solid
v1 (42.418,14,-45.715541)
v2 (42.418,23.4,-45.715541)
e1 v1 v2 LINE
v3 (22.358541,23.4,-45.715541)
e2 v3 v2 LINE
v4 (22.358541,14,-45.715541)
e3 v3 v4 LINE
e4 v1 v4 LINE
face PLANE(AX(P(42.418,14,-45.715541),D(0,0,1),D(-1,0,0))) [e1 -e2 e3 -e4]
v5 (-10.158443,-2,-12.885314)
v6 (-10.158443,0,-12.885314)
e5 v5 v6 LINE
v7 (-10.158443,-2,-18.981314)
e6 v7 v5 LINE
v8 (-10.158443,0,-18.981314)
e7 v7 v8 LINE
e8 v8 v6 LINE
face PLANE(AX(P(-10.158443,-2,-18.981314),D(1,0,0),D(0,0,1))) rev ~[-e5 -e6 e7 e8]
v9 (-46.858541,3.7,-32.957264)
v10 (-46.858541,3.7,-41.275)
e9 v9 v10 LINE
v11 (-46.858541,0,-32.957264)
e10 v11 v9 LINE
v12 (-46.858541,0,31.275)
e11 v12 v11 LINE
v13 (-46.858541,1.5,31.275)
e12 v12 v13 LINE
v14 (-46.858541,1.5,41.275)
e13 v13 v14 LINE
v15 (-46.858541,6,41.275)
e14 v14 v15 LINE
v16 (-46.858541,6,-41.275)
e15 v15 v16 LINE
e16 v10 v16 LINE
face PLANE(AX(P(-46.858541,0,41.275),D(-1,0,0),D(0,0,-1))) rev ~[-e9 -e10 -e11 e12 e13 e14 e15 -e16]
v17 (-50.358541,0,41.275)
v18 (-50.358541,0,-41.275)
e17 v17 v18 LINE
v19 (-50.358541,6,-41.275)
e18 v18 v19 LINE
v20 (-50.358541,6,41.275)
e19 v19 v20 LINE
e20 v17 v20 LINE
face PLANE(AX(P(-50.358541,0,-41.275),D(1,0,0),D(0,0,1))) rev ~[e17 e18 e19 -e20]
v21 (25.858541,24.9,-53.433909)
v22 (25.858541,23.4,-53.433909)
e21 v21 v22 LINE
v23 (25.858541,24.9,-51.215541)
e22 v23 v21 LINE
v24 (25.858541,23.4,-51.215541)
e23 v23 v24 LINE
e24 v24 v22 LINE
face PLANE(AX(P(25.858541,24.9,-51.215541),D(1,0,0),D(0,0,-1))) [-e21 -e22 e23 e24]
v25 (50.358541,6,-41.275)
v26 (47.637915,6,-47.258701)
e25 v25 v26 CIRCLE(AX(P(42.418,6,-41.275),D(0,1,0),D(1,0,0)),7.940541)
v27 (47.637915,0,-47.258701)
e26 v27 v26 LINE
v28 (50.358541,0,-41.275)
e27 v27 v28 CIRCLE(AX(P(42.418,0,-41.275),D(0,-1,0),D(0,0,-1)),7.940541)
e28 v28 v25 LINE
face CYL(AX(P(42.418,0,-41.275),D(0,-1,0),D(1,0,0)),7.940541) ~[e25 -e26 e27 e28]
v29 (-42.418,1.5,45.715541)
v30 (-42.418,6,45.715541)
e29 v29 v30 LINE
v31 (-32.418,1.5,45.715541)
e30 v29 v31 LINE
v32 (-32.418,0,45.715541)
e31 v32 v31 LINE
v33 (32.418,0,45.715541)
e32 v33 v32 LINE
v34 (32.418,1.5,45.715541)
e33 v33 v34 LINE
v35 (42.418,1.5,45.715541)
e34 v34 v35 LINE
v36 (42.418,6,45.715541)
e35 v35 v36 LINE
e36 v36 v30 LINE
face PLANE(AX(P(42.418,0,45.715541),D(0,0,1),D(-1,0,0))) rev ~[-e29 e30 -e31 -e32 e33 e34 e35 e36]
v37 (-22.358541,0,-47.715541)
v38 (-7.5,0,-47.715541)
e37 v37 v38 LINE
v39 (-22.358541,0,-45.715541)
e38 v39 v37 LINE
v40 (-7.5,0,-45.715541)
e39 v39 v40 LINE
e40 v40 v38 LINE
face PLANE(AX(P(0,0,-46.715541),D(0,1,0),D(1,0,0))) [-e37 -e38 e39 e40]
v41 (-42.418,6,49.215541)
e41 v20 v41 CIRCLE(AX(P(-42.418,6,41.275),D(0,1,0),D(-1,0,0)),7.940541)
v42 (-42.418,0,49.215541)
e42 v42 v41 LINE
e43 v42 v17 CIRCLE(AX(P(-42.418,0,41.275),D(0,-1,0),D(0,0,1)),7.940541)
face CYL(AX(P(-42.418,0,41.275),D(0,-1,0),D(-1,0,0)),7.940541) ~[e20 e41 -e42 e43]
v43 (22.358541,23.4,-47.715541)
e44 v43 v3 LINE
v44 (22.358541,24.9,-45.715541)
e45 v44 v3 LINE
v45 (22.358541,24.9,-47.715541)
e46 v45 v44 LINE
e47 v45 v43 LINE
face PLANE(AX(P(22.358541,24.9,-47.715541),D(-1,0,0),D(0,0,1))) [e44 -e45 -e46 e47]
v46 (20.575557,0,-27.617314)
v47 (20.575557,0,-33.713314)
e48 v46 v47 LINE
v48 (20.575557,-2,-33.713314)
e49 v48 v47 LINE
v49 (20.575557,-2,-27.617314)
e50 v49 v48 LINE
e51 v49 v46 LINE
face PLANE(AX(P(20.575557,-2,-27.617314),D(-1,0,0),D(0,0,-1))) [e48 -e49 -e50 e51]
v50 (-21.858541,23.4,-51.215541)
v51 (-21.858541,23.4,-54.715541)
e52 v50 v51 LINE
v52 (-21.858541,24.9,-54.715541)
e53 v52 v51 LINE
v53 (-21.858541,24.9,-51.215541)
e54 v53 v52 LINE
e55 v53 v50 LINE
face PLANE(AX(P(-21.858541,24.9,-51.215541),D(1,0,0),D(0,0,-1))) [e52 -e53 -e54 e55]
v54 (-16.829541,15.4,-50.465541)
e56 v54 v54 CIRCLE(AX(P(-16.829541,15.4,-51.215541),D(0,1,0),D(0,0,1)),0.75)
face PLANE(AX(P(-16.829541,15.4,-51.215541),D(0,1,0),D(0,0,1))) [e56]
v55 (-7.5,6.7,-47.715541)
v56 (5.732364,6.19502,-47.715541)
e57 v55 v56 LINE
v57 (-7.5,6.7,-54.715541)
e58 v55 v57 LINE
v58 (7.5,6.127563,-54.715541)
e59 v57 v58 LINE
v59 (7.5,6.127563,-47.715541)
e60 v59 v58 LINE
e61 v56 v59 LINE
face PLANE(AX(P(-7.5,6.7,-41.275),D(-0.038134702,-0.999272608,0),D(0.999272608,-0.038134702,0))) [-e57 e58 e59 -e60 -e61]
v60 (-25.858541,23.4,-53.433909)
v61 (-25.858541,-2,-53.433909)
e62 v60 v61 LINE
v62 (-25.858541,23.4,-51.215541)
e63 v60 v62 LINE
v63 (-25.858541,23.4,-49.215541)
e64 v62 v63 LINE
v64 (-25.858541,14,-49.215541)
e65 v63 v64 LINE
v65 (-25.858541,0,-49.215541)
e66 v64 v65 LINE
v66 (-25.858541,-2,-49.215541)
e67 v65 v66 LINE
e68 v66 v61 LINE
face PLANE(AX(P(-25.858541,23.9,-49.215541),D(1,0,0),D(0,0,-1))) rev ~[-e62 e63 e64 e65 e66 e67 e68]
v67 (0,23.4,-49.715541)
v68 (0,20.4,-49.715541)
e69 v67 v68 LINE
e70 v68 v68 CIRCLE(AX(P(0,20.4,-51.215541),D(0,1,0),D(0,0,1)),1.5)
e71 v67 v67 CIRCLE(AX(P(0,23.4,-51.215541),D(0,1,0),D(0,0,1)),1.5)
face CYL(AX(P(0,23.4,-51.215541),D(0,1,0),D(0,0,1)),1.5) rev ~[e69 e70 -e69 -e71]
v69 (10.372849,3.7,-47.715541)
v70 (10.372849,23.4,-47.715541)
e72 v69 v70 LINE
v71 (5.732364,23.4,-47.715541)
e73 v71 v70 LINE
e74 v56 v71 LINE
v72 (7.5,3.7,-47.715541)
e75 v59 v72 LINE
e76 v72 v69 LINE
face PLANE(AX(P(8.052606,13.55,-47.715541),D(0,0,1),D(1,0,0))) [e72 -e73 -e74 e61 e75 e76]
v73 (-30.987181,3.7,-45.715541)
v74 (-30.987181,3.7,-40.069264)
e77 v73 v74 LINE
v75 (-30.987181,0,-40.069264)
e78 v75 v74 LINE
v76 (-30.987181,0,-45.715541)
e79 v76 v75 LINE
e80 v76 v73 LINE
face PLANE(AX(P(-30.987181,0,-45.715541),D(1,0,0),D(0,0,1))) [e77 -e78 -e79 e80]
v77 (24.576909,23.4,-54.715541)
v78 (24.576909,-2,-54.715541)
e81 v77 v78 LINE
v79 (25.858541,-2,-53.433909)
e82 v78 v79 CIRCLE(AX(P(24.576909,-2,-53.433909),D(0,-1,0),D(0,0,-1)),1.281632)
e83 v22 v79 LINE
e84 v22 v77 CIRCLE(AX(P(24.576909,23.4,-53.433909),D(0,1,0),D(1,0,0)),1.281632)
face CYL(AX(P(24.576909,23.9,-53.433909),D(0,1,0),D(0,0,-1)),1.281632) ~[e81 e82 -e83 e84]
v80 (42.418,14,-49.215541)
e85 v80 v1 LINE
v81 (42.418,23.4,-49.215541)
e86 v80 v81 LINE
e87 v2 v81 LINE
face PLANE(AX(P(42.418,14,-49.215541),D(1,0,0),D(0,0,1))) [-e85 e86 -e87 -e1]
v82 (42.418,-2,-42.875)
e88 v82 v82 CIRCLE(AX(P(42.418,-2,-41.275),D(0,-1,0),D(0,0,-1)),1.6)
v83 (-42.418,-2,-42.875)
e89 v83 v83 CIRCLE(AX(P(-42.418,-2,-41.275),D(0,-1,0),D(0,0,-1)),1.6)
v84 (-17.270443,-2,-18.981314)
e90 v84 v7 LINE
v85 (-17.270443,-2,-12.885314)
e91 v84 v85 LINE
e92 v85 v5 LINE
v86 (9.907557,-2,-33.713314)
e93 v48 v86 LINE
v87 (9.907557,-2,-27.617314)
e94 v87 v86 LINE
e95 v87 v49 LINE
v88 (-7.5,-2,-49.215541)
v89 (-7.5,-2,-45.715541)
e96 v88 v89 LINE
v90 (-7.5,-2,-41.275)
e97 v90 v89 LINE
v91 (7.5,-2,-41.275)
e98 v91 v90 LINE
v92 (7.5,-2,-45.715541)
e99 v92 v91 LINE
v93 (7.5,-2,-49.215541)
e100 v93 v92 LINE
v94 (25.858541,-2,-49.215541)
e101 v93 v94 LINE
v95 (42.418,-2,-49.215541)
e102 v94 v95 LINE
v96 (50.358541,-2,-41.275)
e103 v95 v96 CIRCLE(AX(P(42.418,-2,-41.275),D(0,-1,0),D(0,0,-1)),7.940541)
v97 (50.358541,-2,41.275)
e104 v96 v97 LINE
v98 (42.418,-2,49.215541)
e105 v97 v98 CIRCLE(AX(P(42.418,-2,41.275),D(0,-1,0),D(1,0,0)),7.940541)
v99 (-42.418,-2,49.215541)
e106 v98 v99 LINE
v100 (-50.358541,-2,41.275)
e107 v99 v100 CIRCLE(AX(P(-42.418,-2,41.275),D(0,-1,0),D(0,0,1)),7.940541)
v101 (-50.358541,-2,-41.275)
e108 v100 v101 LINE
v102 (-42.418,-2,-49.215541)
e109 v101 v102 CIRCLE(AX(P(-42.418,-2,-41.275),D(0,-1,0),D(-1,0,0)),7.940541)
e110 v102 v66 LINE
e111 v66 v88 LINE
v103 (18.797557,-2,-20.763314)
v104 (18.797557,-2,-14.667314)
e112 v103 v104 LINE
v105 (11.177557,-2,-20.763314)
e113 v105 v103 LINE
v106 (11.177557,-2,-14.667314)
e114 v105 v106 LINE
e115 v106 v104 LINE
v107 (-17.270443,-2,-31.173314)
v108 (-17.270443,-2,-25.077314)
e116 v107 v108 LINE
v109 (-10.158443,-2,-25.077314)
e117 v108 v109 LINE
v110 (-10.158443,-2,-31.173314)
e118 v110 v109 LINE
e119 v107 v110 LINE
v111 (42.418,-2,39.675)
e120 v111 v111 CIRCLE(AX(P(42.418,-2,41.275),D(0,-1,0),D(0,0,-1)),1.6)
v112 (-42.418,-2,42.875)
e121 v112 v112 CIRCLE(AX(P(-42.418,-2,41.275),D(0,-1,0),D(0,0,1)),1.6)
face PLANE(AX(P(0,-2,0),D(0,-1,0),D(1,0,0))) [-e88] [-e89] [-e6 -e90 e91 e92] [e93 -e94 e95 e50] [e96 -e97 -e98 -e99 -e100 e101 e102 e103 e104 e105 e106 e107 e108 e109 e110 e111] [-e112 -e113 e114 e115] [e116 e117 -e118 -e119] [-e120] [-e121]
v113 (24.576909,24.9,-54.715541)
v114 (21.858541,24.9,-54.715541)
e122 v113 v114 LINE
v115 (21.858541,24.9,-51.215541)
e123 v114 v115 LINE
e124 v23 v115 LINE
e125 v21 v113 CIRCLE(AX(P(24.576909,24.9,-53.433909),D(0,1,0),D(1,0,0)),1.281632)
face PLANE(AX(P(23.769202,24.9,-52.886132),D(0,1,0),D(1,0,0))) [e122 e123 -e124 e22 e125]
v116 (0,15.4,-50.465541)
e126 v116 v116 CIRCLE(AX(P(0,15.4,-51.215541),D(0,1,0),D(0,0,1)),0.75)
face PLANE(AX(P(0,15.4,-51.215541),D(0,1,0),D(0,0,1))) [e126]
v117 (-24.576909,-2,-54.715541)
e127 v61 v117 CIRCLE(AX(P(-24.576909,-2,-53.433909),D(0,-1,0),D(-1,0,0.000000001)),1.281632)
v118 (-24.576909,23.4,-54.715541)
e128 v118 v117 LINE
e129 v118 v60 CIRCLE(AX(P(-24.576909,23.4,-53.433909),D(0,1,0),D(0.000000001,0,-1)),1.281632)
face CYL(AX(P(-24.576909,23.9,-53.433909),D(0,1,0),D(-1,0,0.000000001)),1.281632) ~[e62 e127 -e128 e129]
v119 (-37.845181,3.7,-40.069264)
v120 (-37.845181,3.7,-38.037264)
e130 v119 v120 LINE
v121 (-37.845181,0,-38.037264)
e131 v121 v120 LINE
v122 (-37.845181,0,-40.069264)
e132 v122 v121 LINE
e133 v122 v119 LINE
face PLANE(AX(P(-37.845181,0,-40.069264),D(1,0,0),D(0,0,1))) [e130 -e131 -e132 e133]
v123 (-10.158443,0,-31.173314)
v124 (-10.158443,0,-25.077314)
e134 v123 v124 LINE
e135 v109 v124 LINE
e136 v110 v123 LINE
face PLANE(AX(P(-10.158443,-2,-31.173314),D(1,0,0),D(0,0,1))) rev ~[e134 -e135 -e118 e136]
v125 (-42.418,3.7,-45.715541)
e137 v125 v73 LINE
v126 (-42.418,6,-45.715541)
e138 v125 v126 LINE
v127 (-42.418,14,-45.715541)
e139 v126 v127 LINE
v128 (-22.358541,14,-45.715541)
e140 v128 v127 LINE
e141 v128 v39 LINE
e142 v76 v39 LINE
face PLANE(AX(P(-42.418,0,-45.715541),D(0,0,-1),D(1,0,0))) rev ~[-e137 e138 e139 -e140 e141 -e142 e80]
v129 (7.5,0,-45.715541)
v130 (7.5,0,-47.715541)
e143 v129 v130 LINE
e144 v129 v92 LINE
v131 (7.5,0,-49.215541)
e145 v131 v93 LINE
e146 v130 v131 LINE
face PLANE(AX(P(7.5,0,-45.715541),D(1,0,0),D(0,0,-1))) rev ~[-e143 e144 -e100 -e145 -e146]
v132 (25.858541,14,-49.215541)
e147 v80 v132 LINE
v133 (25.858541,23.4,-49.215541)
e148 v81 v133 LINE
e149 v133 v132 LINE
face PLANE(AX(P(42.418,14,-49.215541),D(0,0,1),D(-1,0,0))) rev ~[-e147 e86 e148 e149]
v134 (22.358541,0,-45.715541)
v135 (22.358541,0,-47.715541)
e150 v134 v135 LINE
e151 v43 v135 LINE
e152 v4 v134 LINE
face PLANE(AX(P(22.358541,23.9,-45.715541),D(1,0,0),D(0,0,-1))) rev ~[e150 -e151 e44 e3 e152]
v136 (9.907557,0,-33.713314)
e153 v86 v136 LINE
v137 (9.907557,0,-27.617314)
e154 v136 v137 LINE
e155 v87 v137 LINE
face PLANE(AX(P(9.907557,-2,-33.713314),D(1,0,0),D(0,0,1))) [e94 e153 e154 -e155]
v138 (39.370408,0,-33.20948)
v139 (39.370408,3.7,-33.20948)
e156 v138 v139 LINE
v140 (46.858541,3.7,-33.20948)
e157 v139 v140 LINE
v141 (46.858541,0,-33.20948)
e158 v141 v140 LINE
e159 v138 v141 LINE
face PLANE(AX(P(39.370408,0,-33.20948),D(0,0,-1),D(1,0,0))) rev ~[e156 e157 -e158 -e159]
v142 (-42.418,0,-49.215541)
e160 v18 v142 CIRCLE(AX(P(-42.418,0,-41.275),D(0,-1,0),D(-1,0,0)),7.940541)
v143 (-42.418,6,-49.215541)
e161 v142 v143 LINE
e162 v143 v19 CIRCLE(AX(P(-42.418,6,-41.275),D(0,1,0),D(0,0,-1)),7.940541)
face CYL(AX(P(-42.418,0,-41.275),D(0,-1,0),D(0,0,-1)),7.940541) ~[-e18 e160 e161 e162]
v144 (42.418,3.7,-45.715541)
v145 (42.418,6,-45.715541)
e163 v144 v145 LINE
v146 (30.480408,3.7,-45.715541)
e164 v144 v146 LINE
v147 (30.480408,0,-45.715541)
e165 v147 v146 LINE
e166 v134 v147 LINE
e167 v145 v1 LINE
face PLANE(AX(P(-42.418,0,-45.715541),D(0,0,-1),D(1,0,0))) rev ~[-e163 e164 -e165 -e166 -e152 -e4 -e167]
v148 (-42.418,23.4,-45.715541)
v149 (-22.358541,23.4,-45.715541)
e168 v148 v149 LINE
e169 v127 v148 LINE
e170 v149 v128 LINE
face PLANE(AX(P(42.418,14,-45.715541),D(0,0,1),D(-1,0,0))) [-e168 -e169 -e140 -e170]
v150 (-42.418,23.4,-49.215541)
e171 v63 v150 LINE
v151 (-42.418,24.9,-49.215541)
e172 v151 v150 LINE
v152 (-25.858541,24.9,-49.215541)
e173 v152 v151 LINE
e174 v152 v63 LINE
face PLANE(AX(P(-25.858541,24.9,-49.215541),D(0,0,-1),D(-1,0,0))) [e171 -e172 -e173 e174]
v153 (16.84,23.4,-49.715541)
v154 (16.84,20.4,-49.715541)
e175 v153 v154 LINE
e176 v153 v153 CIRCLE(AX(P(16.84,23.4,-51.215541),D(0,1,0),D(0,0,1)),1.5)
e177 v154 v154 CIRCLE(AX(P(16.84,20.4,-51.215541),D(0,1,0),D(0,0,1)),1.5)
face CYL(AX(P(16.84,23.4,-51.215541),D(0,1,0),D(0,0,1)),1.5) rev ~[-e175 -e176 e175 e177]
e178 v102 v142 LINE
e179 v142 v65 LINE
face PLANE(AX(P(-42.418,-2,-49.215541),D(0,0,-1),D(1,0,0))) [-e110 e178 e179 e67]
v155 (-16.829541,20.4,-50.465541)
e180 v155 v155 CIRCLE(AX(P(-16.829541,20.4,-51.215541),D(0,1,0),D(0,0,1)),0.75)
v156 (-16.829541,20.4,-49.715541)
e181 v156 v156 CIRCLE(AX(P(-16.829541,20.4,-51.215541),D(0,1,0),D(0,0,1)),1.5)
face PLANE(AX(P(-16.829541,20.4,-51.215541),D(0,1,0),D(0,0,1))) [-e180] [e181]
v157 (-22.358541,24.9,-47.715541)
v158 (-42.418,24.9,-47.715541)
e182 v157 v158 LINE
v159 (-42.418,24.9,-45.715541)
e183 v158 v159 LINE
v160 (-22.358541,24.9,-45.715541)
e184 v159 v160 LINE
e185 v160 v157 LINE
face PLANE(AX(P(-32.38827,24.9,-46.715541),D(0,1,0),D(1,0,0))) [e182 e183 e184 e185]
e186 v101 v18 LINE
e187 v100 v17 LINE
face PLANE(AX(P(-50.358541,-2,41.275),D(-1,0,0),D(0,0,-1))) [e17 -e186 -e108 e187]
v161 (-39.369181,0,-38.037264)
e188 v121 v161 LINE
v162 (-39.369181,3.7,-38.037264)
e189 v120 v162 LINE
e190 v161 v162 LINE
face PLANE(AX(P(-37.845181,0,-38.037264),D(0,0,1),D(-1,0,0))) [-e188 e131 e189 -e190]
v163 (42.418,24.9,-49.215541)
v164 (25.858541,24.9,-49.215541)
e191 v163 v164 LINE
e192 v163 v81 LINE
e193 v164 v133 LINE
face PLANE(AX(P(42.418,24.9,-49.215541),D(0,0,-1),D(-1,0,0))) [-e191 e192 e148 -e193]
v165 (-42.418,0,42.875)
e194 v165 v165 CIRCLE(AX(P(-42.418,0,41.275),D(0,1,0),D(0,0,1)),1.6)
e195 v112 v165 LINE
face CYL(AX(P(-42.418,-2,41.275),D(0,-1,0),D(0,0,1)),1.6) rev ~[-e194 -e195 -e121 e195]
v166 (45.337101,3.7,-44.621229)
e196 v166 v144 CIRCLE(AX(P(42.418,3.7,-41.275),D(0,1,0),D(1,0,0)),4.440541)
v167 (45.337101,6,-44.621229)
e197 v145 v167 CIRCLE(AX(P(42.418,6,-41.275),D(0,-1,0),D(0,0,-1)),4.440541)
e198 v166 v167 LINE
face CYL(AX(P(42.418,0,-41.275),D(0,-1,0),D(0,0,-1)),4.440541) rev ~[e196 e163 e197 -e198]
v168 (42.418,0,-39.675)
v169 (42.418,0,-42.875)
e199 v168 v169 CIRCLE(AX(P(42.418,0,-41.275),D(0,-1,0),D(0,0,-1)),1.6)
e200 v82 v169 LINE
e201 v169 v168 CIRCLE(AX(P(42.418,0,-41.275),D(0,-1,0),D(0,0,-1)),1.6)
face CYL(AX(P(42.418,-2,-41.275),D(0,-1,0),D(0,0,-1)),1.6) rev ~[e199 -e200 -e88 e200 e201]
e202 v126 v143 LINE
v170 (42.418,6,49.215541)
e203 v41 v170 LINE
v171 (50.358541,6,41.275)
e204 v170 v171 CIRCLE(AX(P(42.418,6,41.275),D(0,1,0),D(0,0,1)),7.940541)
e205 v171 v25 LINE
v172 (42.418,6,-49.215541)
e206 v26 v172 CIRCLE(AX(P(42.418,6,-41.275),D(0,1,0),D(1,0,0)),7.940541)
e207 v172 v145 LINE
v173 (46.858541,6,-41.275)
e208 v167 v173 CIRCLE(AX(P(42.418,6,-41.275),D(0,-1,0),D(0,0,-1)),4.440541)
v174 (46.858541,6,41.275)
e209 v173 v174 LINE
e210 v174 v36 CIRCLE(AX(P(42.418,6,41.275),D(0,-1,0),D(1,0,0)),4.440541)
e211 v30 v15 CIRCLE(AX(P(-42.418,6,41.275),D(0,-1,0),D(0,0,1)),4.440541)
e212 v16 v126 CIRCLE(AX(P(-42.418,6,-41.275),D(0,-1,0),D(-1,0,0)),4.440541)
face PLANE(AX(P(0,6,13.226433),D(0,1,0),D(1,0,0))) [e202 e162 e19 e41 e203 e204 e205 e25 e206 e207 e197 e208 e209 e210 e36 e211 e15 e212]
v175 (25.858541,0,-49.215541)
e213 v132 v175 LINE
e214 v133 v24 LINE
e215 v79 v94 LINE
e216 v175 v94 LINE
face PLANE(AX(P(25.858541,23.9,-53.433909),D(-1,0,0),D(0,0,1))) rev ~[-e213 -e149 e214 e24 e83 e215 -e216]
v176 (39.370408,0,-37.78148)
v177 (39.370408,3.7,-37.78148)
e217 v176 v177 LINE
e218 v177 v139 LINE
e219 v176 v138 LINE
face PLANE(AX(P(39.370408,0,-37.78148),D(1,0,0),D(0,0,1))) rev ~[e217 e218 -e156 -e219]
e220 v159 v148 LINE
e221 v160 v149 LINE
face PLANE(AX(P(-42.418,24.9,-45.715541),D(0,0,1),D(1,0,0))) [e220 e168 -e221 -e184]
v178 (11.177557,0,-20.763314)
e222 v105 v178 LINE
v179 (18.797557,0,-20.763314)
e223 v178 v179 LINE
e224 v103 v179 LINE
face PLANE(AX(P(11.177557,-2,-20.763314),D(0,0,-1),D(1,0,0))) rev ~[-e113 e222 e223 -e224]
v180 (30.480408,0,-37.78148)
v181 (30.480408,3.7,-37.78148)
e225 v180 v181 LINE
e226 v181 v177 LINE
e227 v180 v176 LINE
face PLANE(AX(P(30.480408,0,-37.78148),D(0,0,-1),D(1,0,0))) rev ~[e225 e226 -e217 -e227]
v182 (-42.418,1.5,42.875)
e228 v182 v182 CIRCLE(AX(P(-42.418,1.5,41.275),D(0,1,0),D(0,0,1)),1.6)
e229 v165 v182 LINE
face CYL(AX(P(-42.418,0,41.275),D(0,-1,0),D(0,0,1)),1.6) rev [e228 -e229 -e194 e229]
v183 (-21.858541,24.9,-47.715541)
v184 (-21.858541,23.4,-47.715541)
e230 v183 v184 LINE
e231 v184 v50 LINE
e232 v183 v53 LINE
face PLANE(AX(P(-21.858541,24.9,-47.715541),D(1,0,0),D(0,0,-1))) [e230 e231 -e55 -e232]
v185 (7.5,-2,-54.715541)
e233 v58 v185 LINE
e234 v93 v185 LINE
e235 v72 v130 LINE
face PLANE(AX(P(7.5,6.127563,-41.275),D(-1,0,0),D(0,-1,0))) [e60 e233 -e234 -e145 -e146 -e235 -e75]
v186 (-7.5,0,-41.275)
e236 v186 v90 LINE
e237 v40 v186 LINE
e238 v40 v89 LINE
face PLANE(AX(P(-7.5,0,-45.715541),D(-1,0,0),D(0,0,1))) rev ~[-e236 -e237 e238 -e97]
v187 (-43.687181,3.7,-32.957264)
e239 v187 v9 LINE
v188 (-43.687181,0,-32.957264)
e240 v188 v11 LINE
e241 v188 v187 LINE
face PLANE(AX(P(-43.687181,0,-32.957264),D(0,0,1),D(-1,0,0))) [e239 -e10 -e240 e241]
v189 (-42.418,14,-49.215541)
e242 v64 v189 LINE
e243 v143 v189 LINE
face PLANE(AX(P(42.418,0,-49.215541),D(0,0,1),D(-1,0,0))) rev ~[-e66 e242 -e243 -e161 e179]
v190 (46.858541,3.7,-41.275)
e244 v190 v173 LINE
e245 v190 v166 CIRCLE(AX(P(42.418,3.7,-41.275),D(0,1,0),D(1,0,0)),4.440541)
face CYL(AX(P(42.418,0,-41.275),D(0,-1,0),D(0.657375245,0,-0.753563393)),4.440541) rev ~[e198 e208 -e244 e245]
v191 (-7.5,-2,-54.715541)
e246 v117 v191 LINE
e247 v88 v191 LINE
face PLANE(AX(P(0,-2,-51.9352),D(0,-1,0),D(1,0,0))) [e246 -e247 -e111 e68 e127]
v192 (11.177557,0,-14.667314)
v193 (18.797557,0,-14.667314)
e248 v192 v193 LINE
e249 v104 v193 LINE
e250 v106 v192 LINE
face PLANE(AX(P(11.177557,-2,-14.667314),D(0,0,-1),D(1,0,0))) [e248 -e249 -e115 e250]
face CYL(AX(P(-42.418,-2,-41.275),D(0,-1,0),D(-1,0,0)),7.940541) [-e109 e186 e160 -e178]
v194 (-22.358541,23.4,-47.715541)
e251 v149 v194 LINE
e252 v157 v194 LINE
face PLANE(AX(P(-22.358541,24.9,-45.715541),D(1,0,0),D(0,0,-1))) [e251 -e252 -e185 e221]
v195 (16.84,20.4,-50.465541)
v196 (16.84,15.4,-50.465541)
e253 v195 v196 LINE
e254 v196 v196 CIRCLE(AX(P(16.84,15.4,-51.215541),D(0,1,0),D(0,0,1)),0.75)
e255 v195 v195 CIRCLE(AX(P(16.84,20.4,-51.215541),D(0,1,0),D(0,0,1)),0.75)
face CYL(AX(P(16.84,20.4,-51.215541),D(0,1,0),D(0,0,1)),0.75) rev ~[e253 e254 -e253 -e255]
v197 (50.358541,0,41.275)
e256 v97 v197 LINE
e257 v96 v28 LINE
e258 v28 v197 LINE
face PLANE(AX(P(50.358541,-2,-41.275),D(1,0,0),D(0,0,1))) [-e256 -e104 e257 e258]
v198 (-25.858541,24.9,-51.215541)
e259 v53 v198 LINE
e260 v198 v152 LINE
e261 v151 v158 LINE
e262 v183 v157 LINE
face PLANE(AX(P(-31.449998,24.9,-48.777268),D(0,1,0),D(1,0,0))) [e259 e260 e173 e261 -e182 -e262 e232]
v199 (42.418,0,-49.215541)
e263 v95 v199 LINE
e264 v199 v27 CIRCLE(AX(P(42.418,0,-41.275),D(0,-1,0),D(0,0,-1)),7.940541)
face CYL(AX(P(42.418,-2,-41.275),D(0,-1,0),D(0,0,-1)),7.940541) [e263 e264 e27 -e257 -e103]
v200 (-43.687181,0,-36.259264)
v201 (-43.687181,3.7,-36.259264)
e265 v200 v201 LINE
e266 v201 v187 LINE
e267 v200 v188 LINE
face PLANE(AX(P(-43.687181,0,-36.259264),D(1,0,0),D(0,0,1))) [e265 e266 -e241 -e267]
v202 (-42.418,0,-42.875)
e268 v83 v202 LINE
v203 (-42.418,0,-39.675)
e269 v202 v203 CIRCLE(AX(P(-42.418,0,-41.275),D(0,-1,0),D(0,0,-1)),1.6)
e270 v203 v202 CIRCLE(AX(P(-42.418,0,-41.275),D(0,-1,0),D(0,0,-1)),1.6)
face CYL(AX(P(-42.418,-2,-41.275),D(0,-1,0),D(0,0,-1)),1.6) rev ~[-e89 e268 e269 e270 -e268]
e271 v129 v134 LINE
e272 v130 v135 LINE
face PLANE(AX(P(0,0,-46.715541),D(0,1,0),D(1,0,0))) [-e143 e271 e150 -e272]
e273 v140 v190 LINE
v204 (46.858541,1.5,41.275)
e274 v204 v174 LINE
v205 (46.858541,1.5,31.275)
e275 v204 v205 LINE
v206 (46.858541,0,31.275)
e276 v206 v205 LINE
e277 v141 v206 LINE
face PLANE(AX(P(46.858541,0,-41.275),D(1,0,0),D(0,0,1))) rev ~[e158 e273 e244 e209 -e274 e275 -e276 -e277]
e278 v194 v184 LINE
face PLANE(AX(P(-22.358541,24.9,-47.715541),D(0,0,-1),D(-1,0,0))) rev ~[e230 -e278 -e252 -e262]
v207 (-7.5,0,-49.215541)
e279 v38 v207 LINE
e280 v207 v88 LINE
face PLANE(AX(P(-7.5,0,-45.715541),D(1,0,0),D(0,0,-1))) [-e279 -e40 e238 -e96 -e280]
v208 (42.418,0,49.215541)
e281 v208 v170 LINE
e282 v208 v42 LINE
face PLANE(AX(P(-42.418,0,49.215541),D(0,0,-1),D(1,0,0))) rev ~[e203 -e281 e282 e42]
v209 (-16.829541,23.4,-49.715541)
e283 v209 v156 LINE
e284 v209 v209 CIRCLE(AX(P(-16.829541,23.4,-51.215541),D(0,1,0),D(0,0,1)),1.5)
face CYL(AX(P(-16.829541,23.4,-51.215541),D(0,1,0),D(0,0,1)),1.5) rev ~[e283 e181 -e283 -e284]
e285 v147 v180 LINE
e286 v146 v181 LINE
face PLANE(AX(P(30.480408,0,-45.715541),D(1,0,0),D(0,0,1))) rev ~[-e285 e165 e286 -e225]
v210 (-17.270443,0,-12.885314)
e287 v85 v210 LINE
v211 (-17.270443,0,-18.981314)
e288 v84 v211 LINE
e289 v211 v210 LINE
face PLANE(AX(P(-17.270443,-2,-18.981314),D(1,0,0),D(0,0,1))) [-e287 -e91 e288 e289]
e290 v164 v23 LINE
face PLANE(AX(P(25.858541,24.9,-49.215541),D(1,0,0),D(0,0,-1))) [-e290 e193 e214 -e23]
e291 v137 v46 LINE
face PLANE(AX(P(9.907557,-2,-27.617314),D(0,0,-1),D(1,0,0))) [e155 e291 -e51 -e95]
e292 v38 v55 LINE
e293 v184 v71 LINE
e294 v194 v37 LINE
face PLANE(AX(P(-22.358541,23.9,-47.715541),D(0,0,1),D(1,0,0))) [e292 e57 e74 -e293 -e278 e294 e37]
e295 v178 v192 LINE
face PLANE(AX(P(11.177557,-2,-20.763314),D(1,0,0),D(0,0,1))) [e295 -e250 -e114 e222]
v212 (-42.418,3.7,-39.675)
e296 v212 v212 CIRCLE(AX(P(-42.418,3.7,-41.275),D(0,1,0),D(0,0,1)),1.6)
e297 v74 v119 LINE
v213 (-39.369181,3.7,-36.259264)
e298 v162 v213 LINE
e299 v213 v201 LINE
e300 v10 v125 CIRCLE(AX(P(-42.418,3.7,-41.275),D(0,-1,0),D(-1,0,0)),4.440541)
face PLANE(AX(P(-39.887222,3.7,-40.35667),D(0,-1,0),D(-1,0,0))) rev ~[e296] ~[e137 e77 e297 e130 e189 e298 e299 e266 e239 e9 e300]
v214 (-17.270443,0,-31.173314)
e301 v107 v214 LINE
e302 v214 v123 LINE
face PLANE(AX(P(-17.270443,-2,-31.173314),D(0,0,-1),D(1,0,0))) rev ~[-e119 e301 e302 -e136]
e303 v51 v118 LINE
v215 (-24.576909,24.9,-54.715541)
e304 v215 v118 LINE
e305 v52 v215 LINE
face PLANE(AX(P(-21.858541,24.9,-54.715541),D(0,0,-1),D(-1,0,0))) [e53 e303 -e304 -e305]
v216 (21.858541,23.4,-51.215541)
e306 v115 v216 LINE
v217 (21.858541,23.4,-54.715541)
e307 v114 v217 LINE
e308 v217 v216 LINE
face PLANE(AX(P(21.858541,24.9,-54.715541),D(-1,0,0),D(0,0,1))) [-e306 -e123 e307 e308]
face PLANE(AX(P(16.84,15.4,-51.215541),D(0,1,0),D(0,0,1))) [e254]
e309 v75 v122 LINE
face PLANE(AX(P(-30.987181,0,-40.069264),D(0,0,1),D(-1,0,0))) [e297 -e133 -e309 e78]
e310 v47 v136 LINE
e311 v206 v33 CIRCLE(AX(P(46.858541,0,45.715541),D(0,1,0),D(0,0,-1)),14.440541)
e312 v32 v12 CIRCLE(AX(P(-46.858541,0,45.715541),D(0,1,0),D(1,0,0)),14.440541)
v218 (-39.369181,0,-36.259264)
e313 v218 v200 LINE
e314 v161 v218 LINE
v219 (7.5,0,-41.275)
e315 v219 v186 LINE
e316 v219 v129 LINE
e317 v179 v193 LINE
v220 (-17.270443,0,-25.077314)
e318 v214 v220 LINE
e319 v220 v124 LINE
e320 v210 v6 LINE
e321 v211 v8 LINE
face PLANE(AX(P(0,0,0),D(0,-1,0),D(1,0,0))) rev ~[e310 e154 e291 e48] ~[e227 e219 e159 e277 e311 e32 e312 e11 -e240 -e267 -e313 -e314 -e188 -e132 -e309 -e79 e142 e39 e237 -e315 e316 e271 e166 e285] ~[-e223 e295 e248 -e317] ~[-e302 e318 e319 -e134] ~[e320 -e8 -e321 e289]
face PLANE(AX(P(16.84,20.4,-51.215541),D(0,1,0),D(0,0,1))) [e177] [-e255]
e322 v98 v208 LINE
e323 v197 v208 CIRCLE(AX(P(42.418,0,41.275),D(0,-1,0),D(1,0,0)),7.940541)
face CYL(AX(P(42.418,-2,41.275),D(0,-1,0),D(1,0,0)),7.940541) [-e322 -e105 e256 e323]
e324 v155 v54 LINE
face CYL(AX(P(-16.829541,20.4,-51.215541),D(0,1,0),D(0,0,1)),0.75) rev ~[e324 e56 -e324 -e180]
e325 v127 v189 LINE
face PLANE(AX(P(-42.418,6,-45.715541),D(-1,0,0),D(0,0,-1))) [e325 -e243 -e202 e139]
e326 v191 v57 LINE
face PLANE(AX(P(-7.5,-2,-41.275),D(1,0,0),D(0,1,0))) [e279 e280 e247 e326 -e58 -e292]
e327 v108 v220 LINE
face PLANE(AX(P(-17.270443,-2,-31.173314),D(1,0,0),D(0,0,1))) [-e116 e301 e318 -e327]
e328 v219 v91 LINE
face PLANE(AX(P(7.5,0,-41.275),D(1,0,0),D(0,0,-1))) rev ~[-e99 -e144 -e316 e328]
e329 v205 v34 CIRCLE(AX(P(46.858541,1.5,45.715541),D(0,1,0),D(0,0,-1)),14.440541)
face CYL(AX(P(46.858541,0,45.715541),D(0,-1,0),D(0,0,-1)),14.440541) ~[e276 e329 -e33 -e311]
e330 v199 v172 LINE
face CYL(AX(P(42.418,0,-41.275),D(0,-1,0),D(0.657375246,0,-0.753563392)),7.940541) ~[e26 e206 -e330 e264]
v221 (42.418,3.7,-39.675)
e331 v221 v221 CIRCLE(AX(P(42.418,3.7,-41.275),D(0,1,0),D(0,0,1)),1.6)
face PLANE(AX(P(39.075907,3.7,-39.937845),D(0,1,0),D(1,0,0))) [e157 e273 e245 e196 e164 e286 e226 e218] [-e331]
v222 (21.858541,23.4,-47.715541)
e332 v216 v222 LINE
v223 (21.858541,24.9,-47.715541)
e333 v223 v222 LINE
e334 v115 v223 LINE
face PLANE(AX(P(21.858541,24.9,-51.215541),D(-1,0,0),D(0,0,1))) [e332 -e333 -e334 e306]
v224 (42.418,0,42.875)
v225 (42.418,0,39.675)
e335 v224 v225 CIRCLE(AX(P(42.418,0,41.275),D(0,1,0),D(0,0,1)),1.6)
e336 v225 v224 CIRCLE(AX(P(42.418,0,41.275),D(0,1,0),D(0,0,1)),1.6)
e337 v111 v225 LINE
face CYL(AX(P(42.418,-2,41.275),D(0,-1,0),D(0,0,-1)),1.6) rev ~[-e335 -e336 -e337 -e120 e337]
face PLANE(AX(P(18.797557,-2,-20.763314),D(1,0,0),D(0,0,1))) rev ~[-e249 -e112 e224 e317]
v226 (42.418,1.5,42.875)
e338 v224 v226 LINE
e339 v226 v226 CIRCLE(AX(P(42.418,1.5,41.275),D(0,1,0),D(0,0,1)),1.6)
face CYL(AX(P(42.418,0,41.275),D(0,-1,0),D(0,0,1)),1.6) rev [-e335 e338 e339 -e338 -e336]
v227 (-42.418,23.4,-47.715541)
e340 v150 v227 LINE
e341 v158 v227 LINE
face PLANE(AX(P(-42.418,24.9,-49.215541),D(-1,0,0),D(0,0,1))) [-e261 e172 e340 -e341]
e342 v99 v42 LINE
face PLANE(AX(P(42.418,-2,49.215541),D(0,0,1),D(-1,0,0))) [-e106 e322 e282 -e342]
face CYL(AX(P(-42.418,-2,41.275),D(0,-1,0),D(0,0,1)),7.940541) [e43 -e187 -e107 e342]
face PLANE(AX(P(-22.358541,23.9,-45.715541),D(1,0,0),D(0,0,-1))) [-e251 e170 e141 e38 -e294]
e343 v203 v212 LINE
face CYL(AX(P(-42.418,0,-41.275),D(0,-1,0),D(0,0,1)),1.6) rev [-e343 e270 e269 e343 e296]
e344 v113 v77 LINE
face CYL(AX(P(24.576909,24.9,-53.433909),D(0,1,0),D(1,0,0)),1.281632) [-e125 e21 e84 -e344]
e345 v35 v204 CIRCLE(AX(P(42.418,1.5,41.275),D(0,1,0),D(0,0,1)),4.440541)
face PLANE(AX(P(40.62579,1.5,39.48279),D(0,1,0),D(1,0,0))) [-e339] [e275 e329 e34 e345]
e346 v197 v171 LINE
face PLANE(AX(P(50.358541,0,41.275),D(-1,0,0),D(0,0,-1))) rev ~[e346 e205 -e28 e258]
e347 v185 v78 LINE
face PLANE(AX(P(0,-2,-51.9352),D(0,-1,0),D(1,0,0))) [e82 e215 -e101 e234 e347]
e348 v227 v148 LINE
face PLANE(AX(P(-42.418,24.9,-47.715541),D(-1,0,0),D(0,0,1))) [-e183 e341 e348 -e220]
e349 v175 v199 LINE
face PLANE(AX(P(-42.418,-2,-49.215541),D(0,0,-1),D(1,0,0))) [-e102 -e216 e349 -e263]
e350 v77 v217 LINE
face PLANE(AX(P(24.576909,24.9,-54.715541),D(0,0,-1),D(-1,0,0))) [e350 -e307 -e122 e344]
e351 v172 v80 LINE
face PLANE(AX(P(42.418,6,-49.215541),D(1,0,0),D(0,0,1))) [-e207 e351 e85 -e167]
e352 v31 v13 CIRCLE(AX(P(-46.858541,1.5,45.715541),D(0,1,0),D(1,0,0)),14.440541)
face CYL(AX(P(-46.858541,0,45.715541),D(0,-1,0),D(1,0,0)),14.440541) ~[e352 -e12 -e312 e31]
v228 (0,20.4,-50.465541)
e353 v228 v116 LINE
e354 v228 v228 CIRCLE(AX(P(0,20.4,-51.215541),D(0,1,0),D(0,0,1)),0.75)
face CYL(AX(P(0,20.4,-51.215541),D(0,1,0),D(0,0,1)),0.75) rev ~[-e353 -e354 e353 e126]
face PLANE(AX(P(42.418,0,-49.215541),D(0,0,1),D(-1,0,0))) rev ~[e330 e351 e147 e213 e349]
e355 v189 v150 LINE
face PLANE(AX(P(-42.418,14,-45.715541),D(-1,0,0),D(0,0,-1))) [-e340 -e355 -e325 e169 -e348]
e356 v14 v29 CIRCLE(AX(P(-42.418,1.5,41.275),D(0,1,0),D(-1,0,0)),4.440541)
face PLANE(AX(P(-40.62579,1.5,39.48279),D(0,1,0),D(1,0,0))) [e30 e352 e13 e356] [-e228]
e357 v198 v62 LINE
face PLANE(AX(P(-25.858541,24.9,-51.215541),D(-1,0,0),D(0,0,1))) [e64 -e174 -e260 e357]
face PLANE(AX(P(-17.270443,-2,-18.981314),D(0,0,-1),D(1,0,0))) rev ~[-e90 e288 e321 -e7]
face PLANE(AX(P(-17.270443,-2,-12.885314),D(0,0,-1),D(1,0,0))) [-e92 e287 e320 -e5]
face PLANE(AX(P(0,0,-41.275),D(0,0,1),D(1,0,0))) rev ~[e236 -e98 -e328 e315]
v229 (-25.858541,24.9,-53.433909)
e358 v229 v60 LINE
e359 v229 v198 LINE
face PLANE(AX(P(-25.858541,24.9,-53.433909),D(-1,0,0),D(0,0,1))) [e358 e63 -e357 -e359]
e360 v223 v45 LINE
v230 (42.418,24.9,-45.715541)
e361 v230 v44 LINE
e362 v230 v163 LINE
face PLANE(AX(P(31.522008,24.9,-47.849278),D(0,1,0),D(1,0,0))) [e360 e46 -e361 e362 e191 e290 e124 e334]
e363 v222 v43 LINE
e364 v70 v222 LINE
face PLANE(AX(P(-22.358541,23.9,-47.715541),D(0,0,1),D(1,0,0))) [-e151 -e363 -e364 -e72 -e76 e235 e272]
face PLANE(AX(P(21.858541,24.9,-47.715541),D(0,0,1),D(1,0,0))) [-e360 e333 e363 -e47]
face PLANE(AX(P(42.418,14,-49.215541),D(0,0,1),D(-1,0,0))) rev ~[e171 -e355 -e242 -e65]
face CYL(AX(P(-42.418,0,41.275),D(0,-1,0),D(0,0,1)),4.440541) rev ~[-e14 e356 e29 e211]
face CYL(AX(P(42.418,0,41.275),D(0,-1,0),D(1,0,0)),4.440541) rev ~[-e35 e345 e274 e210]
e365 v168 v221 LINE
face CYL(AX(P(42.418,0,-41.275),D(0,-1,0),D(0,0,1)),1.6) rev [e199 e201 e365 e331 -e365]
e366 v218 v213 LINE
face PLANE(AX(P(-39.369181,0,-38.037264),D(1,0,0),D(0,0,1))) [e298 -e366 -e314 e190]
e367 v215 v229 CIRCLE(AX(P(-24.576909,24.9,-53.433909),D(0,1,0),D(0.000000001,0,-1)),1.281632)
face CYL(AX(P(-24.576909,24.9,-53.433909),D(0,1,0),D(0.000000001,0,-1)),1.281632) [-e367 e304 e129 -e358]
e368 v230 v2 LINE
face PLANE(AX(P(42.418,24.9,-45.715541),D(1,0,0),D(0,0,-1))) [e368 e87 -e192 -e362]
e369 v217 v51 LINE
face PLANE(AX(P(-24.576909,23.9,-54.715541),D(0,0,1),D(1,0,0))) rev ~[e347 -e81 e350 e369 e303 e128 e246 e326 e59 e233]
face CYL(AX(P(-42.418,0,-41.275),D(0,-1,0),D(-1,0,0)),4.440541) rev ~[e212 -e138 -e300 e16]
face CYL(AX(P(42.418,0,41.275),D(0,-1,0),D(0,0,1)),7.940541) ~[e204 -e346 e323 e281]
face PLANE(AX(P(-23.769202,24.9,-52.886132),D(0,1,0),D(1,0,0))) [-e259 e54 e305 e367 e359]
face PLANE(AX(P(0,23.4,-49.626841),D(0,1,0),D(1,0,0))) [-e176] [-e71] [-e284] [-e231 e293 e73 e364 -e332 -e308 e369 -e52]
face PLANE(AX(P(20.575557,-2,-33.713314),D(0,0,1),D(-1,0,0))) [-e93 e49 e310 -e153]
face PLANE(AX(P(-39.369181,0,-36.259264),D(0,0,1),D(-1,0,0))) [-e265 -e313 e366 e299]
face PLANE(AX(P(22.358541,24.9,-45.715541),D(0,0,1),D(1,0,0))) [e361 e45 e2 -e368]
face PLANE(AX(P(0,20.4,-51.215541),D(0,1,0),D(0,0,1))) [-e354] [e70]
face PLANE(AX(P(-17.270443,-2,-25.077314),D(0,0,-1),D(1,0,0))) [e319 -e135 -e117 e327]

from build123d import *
from build123d.topology import SkipClean

# Parameters (mm, degrees)
SKETCH2_R             = 1.6
BOSS_EXTRUDE1_DEPTH   = 1.5
BOSS_EXTRUDE1_2_DEPTH = 1.5
BOSS_EXTRUDE3_START   = 2
SKETCH5_R             = 1.6
SKETCH5_W             = 7.112
SKETCH5_H             = 6.096
SKETCH5_W_2           = 7.62
BOSS_EXTRUDE3_DEPTH   = 2
SKETCH6_R             = 1.6
BOSS_EXTRUDE4_DEPTH   = 3.7
SKETCH7_W             = 15
SKETCH7_H             = 3.5
CUT_EXTRUDE1_DEPTH    = 18.7
BOSS_EXTRUDE5_DEPTH   = 14
SKETCH10_W            = 8.676175164
SKETCH10_H            = 12.620836119
BOSS_EXTRUDE6_DEPTH   = 20.2
BOSS_EXTRUDE9_START   = -25.9
BOSS_EXTRUDE9_DEPTH   = 25.9
BOSS_EXTRUDE10_DEPTH  = 9.9
SKETCH17_W            = 44.717081264
SKETCH17_H            = 2
CUT_EXTRUDE3_DEPTH    = 23.9
SKETCH18_W            = 4.640484925
SKETCH18_H            = 8.524085484
BOSS_EXTRUDE11_DEPTH  = 19.7
CUT_EXTRUDE4_DEPTH    = 0.5
BOSS_EXTRUDE12_START  = 1.5
BOSS_EXTRUDE12_DEPTH  = 1.5
SKETCH22_R            = 1.5
CUT_EXTRUDE5_DEPTH    = 8
BOSS_EXTRUDE13_START  = 5
SKETCH24_R            = 1.5
SKETCH24_R_2          = 0.75
BOSS_EXTRUDE13_DEPTH  = 5
SKETCH25_W            = 4.640484925
SKETCH25_H            = 19.7
CUT_EXTRUDE6_DEPTH    = 8.524085484
SKETCH26_W            = 8.676175164
SKETCH26_H            = 12.620836119
CUT_EXTRUDE7_DEPTH    = 23.9
CUT_EXTRUDE12_DEPTH   = 38
CUT_EXTRUDE13_START   = -8
CUT_EXTRUDE13_DEPTH   = 8


with BuildPart() as part:
    # Sketch2 → Boss-Extrude1 (new body)
    with BuildSketch(Plane(origin=(0, 0, 0), x_dir=(1, 0, 0), z_dir=(0, 1, 0))):
        with BuildLine():
            ThreePointArc((46.858540632, -31.275), (36.647536427, -35.504536427), (32.418, -45.715540632))
            Line((32.418, -45.715540632), (42.418, -45.715540632))
            ThreePointArc((42.418, -45.715540632), (45.557936393, -44.414936393), (46.858540632, -41.275))
            Line((46.858540632, -41.275), (46.858540632, -31.275))
        make_face()
        with Locations(Location((42.418, -41.275, 0), (0, 0, 270))):
            Circle(SKETCH2_R, mode=Mode.SUBTRACT)
    extrude(amount=BOSS_EXTRUDE1_DEPTH)



with BuildPart() as body_2:
    # Sketch2 → Boss-Extrude1 2 (new body)
    with BuildSketch(Plane(origin=(0, 0, 0), x_dir=(1, 0, 0), z_dir=(0, 1, 0))):
        with BuildLine():
            Line((-46.858540632, -31.275), (-46.858540632, -41.275))
            ThreePointArc((-46.858540632, -41.275), (-45.557936393, -44.414936393), (-42.418, -45.715540632))
            Line((-42.418, -45.715540632), (-32.418, -45.715540632))
            ThreePointArc((-32.418, -45.715540632), (-36.647536427, -35.504536427), (-46.858540632, -31.275))
        make_face()
        with Locations(Location((-42.418, -41.275, 0), (0, 0, 270))):
            Circle(SKETCH2_R, mode=Mode.SUBTRACT)
    extrude(amount=BOSS_EXTRUDE1_2_DEPTH)


with BuildPart() as part_1:
    with SkipClean():  # the faces are left unmerged after this step: merging them gives an invalid solid
        add(part.part)

        add(body_2.part)  # Boss-Extrude3 merges body 2
        # Sketch5 → Boss-Extrude3 (add)
        with BuildSketch(Plane.XZ.offset(BOSS_EXTRUDE3_START)):
            with BuildLine():
                ThreePointArc((42.418, -49.215540632), (48.032810127, -46.889810127), (50.358540632, -41.275))
                Line((50.358540632, -41.275), (50.358540632, 41.275))
                ThreePointArc((50.358540632, 41.275), (48.032810127, 46.889810127), (42.418, 49.215540632))
                Line((42.418, 49.215540632), (-42.418, 49.215540632))
                ThreePointArc((-42.418, 49.215540632), (-48.032810127, 46.889810127), (-50.358540632, 41.275))
                Line((-50.358540632, 41.275), (-50.358540632, -41.275))
                ThreePointArc((-50.358540632, -41.275), (-48.032810127, -46.889810127), (-42.418, -49.215540632))
                Line((-42.418, -49.215540632), (42.418, -49.215540632))
            make_face()
            with Locations(Location((-42.418, -41.275, 0), (0, 0, 270))):
                Circle(SKETCH5_R, mode=Mode.SUBTRACT)
            with Locations((-13.714442552, -28.125314405)):
                Rectangle(SKETCH5_W, SKETCH5_H, mode=Mode.SUBTRACT)
            with Locations((-13.714442552, -15.933314405)):
                Rectangle(SKETCH5_W, SKETCH5_H, mode=Mode.SUBTRACT)
            Polygon((9.907557448, -33.713314405), (9.907557448, -31.173314405), (9.907557448, -27.617314405), (20.575557448, -27.617314405), (20.575557448, -33.713314405), align=None, mode=Mode.SUBTRACT)
            with Locations(Location((42.418, -41.275, 0), (0, 0, 270))):
                Circle(SKETCH5_R, mode=Mode.SUBTRACT)
            with Locations((14.987557448, -17.715314405)):
                Rectangle(SKETCH5_W_2, SKETCH5_H, mode=Mode.SUBTRACT)
            with Locations(Location((42.418, 41.275, 0), (0, 0, 270))):
                Circle(SKETCH5_R, mode=Mode.SUBTRACT)
            with Locations(Location((-42.418, 41.275, 0), (0, 0, 90))):
                Circle(SKETCH5_R, mode=Mode.SUBTRACT)
        extrude(amount=-BOSS_EXTRUDE3_DEPTH)

    # Sketch6 → Boss-Extrude4 (add)
    # profile 1 of 2: a face of its own
    with SkipClean():  # the faces are left unmerged after this step: merging them gives an invalid solid
        with BuildSketch(Plane(origin=(0, 0, 0), x_dir=(1, 0, 0), z_dir=(0, 1, 0))):
            with BuildLine():
                Line((-37.845181083, 38.037263731), (-39.369181083, 38.037263731))
                Line((-39.369181083, 38.037263731), (-39.369181083, 36.259263731))
                Line((-39.369181083, 36.259263731), (-43.687181083, 36.259263731))
                Line((-43.687181083, 36.259263731), (-43.687181083, 32.957263731))
                Line((-43.687181083, 32.957263731), (-46.858540632, 32.957263731))
                Line((-46.858540632, 32.957263731), (-46.858540632, 41.275))
                ThreePointArc((-46.858540632, 41.275), (-45.557936393, 44.414936393), (-42.418, 45.715540632))
                Line((-42.418, 45.715540632), (-30.987181083, 45.715540632))
                Line((-30.987181083, 45.715540632), (-30.987181083, 40.069263731))
                Line((-30.987181083, 40.069263731), (-37.845181083, 40.069263731))
                Line((-37.845181083, 40.069263731), (-37.845181083, 38.037263731))
            make_face()
            with Locations(Location((-42.418, 41.275, 0), (0, 0, 270))):
                Circle(SKETCH6_R, mode=Mode.SUBTRACT)
        # profile 2 of 2: a face of its own
        with BuildSketch(Plane(origin=(0, 0, 0), x_dir=(1, 0, 0), z_dir=(0, 1, 0))):
            with BuildLine():
                Line((39.37040836, 37.781480113), (39.37040836, 33.209480113))
                Line((39.37040836, 33.209480113), (46.858540632, 33.209480113))
                Line((46.858540632, 33.209480113), (46.858540632, 41.275))
                ThreePointArc((46.858540632, 41.275), (45.557936393, 44.414936393), (42.418, 45.715540632))
                Line((42.418, 45.715540632), (30.48040836, 45.715540632))
                Line((30.48040836, 45.715540632), (30.48040836, 37.781480113))
                Line((30.48040836, 37.781480113), (39.37040836, 37.781480113))
            make_face()
            with Locations(Location((42.418, 41.275, 0), (0, 0, 270))):
                Circle(SKETCH6_R, mode=Mode.SUBTRACT)
        extrude(amount=BOSS_EXTRUDE4_DEPTH)

    # Sketch7 → Cut-Extrude1 (cut)
    with SkipClean():  # the faces are left unmerged after this step: merging them gives an invalid solid
        with BuildSketch(Plane(origin=(0, 0, 0), x_dir=(1, 0, 0), z_dir=(0, 1, 0))):
            with Locations((0, 47.465540632)):
                Rectangle(SKETCH7_W, SKETCH7_H)
            Polygon((0, 41.275), (7.5, 41.275), (7.5, 45.715540632), (-7.5, 45.715540632), (-7.5, 41.275), align=None)
        extrude(amount=-CUT_EXTRUDE1_DEPTH, mode=Mode.SUBTRACT)

    # Sketch8 → Boss-Extrude5 (add)
    with SkipClean():  # the faces are left unmerged after this step: merging them gives an invalid solid
        with BuildSketch(Plane(origin=(0, 0, 0), x_dir=(1, 0, 0), z_dir=(0, 1, 0))):
            with BuildLine():
                Line((-42.418, 45.715540632), (-42.418, 49.215540632))
                ThreePointArc((-42.418, 49.215540632), (-48.032810127, 46.889810127), (-50.358540632, 41.275))
                Line((-50.358540632, 41.275), (-50.358540632, -41.275))
                Line((-50.358540632, -41.275), (-46.858540632, -41.275))
                Line((-46.858540632, -41.275), (-46.858540632, 41.275))
                ThreePointArc((-46.858540632, 41.275), (-45.557936393, 44.414936393), (-42.418, 45.715540632))
            make_face()
            with BuildLine():
                Line((-46.858540632, -41.275), (-50.358540632, -41.275))
                ThreePointArc((-50.358540632, -41.275), (-48.032810127, -46.889810127), (-42.418, -49.215540632))
                Line((-42.418, -49.215540632), (42.418, -49.215540632))
                Line((42.418, -49.215540632), (42.418, -45.715540632))
                Line((42.418, -45.715540632), (-42.418, -45.715540632))
                ThreePointArc((-42.418, -45.715540632), (-45.557936393, -44.414936393), (-46.858540632, -41.275))
            make_face()
            with BuildLine():
                Line((50.358540632, 41.275), (46.858540632, 41.275))
                Line((46.858540632, 41.275), (46.858540632, 33.209480113))
                Line((46.858540632, 33.209480113), (46.858540632, -31.275))
                Line((46.858540632, -31.275), (46.858540632, -41.275))
                ThreePointArc((46.858540632, -41.275), (45.557936393, -44.414936393), (42.418, -45.715540632))
                Line((42.418, -45.715540632), (42.418, -49.215540632))
                ThreePointArc((42.418, -49.215540632), (48.032810127, -46.889810127), (50.358540632, -41.275))
                Line((50.358540632, -41.275), (50.358540632, 41.275))
            make_face()
            with BuildLine():
                ThreePointArc((42.418, 45.715540632), (43.976739215, 45.432972242), (45.337101489, 44.621228862))
                Line((45.337101489, 44.621228862), (47.63791485, 47.258700735))
                ThreePointArc((47.63791485, 47.258700735), (45.205325484, 48.710254009), (42.418, 49.215540632))
                Line((42.418, 49.215540632), (-42.418, 49.215540632))
                Line((-42.418, 49.215540632), (-42.418, 45.715540632))
                Line((-42.418, 45.715540632), (-30.987181083, 45.715540632))
                Line((-30.987181083, 45.715540632), (-16.875382857, 45.715540632))
                Line((-16.875382857, 45.715540632), (22.418, 45.715540632))
                Line((22.418, 45.715540632), (30.48040836, 45.715540632))
                Line((30.48040836, 45.715540632), (42.418, 45.715540632))
            make_face()
            with BuildLine():
                Line((47.63791485, 47.258700735), (45.337101489, 44.621228862))
                ThreePointArc((45.337101489, 44.621228862), (46.460325437, 43.1129353), (46.858540632, 41.275))
                Line((46.858540632, 41.275), (50.358540632, 41.275))
                ThreePointArc((50.358540632, 41.275), (49.646455281, 44.561581778), (47.63791485, 47.258700735))
            make_face()
        extrude(amount=BOSS_EXTRUDE5_DEPTH)

    # Sketch13 → Boss-Extrude9 (add)
    with SkipClean():  # the faces are left unmerged after this step: merging them gives an invalid solid
        with BuildSketch(Plane.XZ.offset(2).offset(BOSS_EXTRUDE9_START)):
            with BuildLine():
                Line((25.858540632, -53.433909126), (25.858540632, -49.215540632))
                Line((25.858540632, -49.215540632), (7.5, -49.215540632))
                Line((7.5, -49.215540632), (-7.5, -49.215540632))
                Line((-7.5, -49.215540632), (-21.418, -49.215540632))
                Line((-21.418, -49.215540632), (-25.858540632, -49.215540632))
                Line((-25.858540632, -49.215540632), (-25.858540632, -53.433909125))
                ThreePointArc((-25.858540632, -53.433909125), (-25.483159455, -54.340159455), (-24.576909125, -54.715540632))
                Line((-24.576909125, -54.715540632), (-20.136368493, -54.715540632))
                Line((-20.136368493, -54.715540632), (24.576909126, -54.715540632))
                ThreePointArc((24.576909126, -54.715540632), (25.483159455, -54.340159455), (25.858540632, -53.433909126))
            make_face()
        extrude(amount=BOSS_EXTRUDE9_DEPTH)

    # Sketch16 → Boss-Extrude10 (add)
    with SkipClean():  # the faces are left unmerged after this step: merging them gives an invalid solid
        with BuildSketch(Plane(origin=(0, 14, 0), x_dir=(1, 0, 0), z_dir=(0, 1, 0))):
            Polygon((-42.418, 45.715540632), (-42.418, 49.215540632), (-25.858540632, 49.215540632), (25.858540632, 49.215540632), (42.418, 49.215540632), (42.418, 45.715540632), align=None)
        extrude(amount=BOSS_EXTRUDE10_DEPTH)

    # Sketch17 → Cut-Extrude3 (cut)
    with SkipClean():  # the faces are left unmerged after this step: merging them gives an invalid solid
        with BuildSketch(Plane(origin=(0, 23.9, 0), x_dir=(1, 0, 0), z_dir=(0, 1, 0))):
            with Locations((0, 46.715540632)):
                Rectangle(SKETCH17_W, SKETCH17_H)
        extrude(amount=-CUT_EXTRUDE3_DEPTH, mode=Mode.SUBTRACT)

    # Sketch18 → Boss-Extrude11 (add)
    with SkipClean():  # the faces are left unmerged after this step: merging them gives an invalid solid
        with BuildSketch(Plane(origin=(0, 3.7, 0), x_dir=(1, 0, 0), z_dir=(0, 1, 0))):
            with Locations((8.052606194, 43.45349789)):
                Rectangle(SKETCH18_W, SKETCH18_H)
        extrude(amount=BOSS_EXTRUDE11_DEPTH)

    # Sketch19 → Cut-Extrude4 (cut)
    with SkipClean():  # the faces are left unmerged after this step: merging them gives an invalid solid
        with BuildSketch(Plane(origin=(0, 23.9, 0), x_dir=(1, 0, 0), z_dir=(0, 1, 0))):
            with BuildLine():
                Line((22.358540632, 47.715540632), (22.358540632, 45.715540632))
                Line((22.358540632, 45.715540632), (42.418, 45.715540632))
                Line((42.418, 45.715540632), (42.418, 49.215540632))
                Line((42.418, 49.215540632), (25.858540632, 49.215540632))
                Line((25.858540632, 49.215540632), (25.858540632, 53.433909126))
                ThreePointArc((25.858540632, 53.433909126), (25.483159455, 54.340159455), (24.576909126, 54.715540632))
                Line((24.576909126, 54.715540632), (-24.576909125, 54.715540632))
                ThreePointArc((-24.576909125, 54.715540632), (-25.483159455, 54.340159455), (-25.858540632, 53.433909125))
                Line((-25.858540632, 53.433909125), (-25.858540632, 49.215540632))
                Line((-25.858540632, 49.215540632), (-42.418, 49.215540632))
                Line((-42.418, 49.215540632), (-42.418, 45.715540632))
                Line((-42.418, 45.715540632), (-22.358540632, 45.715540632))
                Line((-22.358540632, 45.715540632), (-22.358540632, 47.715540632))
                Line((-22.358540632, 47.715540632), (22.358540632, 47.715540632))
            make_face()
        extrude(amount=-CUT_EXTRUDE4_DEPTH, mode=Mode.SUBTRACT)

    # Sketch20 → Boss-Extrude12 (add)
    with SkipClean():  # the faces are left unmerged after this step: merging them gives an invalid solid
        with BuildSketch(Plane(origin=(0, 23.4, 0), x_dir=(1, 0, 0), z_dir=(0, 1, 0)).offset(BOSS_EXTRUDE12_START)):
            Polygon((-22.358540632, 45.715540632), (-22.358540632, 47.715540632), (-42.418, 47.715540632), (-42.418, 45.715540632), (-30.987181083, 45.715540632), align=None)
            Polygon((-21.858540632, 47.715540632), (-21.858540632, 51.215540632), (-25.858540632, 51.215540632), (-25.858540632, 49.215540632), (-42.418, 49.215540632), (-42.418, 47.715540632), (-22.358540632, 47.715540632), align=None)
            with BuildLine():
                Line((-21.858540632, 51.215540632), (-21.858540632, 54.715540632))
                Line((-21.858540632, 54.715540632), (-24.576909125, 54.715540632))
                ThreePointArc((-24.576909125, 54.715540632), (-25.483159455, 54.340159455), (-25.858540632, 53.433909125))
                Line((-25.858540632, 53.433909125), (-25.858540632, 51.215540632))
                Line((-25.858540632, 51.215540632), (-21.858540632, 51.215540632))
            make_face()
            Polygon((25.858540632, 51.215540632), (21.858540632, 51.215540632), (21.858540632, 47.715540632), (22.358540632, 47.715540632), (22.358540632, 45.715540632), (30.48040836, 45.715540632), (42.418, 45.715540632), (42.418, 49.215540632), (25.858540632, 49.215540632), align=None)
            with BuildLine():
                Line((24.576909126, 54.715540632), (21.858540632, 54.715540632))
                Line((21.858540632, 54.715540632), (21.858540632, 51.215540632))
                Line((21.858540632, 51.215540632), (25.858540632, 51.215540632))
                Line((25.858540632, 51.215540632), (25.858540632, 53.433909126))
                ThreePointArc((25.858540632, 53.433909126), (25.483159455, 54.340159455), (24.576909126, 54.715540632))
            make_face()
        extrude(amount=-BOSS_EXTRUDE12_DEPTH)

    # Sketch22 → Cut-Extrude5 (cut)
    with SkipClean():  # the faces are left unmerged after this step: merging them gives an invalid solid
        with BuildSketch(Plane(origin=(0, 23.4, 0), x_dir=(1, 0, 0), z_dir=(0, 1, 0))):
            with Locations(Location((-16.829540632, 51.215540632, 0), (0, 0, 270))):
                Circle(SKETCH22_R)
            with Locations(Location((0, 51.215540632, 0), (0, 0, 270))):
                Circle(SKETCH22_R)
            with Locations(Location((16.84, 51.215540632, 0), (0, 0, 270))):
                Circle(SKETCH22_R)
        extrude(amount=-CUT_EXTRUDE5_DEPTH, mode=Mode.SUBTRACT)

    # Sketch24 → Boss-Extrude13 (add)
    # profile 1 of 3: a face of its own
    with SkipClean():  # the faces are left unmerged after this step: merging them gives an invalid solid
        with BuildSketch(Plane(origin=(0, 15.4, 0), x_dir=(1, 0, 0), z_dir=(0, 1, 0)).offset(BOSS_EXTRUDE13_START)):
            with Locations(Location((16.84, 51.215540632, 0), (0, 0, 270))):
                Circle(SKETCH24_R)
            with Locations(Location((16.84, 51.215540632, 0), (0, 0, 270))):
                Circle(SKETCH24_R_2, mode=Mode.SUBTRACT)
        # profile 2 of 3: a face of its own
        with BuildSketch(Plane(origin=(0, 15.4, 0), x_dir=(1, 0, 0), z_dir=(0, 1, 0)).offset(BOSS_EXTRUDE13_START)):
            with Locations(Location((0, 51.215540632, 0), (0, 0, 270))):
                Circle(SKETCH24_R)
            with Locations(Location((0, 51.215540632, 0), (0, 0, 270))):
                Circle(SKETCH24_R_2, mode=Mode.SUBTRACT)
        # profile 3 of 3: a face of its own
        with BuildSketch(Plane(origin=(0, 15.4, 0), x_dir=(1, 0, 0), z_dir=(0, 1, 0)).offset(BOSS_EXTRUDE13_START)):
            with Locations(Location((-16.829540632, 51.215540632, 0), (0, 0, 270))):
                Circle(SKETCH24_R)
            with Locations(Location((-16.829540632, 51.215540632, 0), (0, 0, 270))):
                Circle(SKETCH24_R_2, mode=Mode.SUBTRACT)
        extrude(amount=-BOSS_EXTRUDE13_DEPTH)

    # Sketch25 → Cut-Extrude6 (cut)
    with SkipClean():  # the faces are left unmerged after this step: merging them gives an invalid solid
        with BuildSketch(Plane.XY.offset(-39.191455148)):
            with Locations((8.052606194, 13.55)):
                Rectangle(SKETCH25_W, SKETCH25_H)
        extrude(amount=-CUT_EXTRUDE6_DEPTH, mode=Mode.SUBTRACT)

    # Sketch27 → Cut-Extrude12 (cut)
    with SkipClean():  # the faces are left unmerged after this step: merging them gives an invalid solid
        with BuildSketch(Plane(origin=(0, 0, -41.275), x_dir=(-1, 0, 0), z_dir=(0, 0, -1))):
            Polygon((-7.5, -2), (7.5, -2), (7.5, 0), (7.5, 6.7), (-7.5, 6.127563086), align=None)
        extrude(amount=CUT_EXTRUDE12_DEPTH, mode=Mode.SUBTRACT)

    # Sketch28 → Cut-Extrude13 (cut)
    with SkipClean():  # the faces are left unmerged after this step: merging them gives an invalid solid
        with BuildSketch(Plane(origin=(0, 14, 0), x_dir=(1, 0, 0), z_dir=(0, 1, 0)).offset(CUT_EXTRUDE13_START)):
            with BuildLine():
                Line((-42.418, 45.715540632), (-42.418, 49.215540632))
                ThreePointArc((-42.418, 49.215540632), (-48.032810127, 46.889810127), (-50.358540632, 41.275))
                Line((-50.358540632, 41.275), (-50.358540632, -41.275))
                ThreePointArc((-50.358540632, -41.275), (-48.032810127, -46.889810127), (-42.418, -49.215540632))
                Line((-42.418, -49.215540632), (42.418, -49.215540632))
                ThreePointArc((42.418, -49.215540632), (48.032810127, -46.889810127), (50.358540632, -41.275))
                Line((50.358540632, -41.275), (50.358540632, 41.275))
                ThreePointArc((50.358540632, 41.275), (48.032810127, 46.889810127), (42.418, 49.215540632))
                Line((42.418, 49.215540632), (42.418, 45.715540632))
                ThreePointArc((42.418, 45.715540632), (45.557936393, 44.414936393), (46.858540632, 41.275))
                Line((46.858540632, 41.275), (46.858540632, -41.275))
                ThreePointArc((46.858540632, -41.275), (45.557936393, -44.414936393), (42.418, -45.715540632))
                Line((42.418, -45.715540632), (-42.418, -45.715540632))
                ThreePointArc((-42.418, -45.715540632), (-45.557936393, -44.414936393), (-46.858540632, -41.275))
                Line((-46.858540632, -41.275), (-46.858540632, 41.275))
                ThreePointArc((-46.858540632, 41.275), (-45.557936393, 44.414936393), (-42.418, 45.715540632))
            make_face()
        extrude(amount=CUT_EXTRUDE13_DEPTH, mode=Mode.SUBTRACT)


with BuildPart() as body_2_2:
    # Sketch10 → Boss-Extrude6 (new body)
    with BuildSketch(Plane(origin=(0, 3.7, 0), x_dir=(1, 0, 0), z_dir=(0, 1, 0))):
        with Locations((2.035439785, 19.311208485)):
            Rectangle(SKETCH10_W, SKETCH10_H)
    extrude(amount=BOSS_EXTRUDE6_DEPTH)

    # Sketch26 → Cut-Extrude7 (cut)
    with BuildSketch(Plane(origin=(0, 23.9, 0), x_dir=(1, 0, 0), z_dir=(0, 1, 0))):
        with Locations((2.035439785, 19.311208485)):
            Rectangle(SKETCH26_W, SKETCH26_H)
    extrude(amount=-CUT_EXTRUDE7_DEPTH, mode=Mode.SUBTRACT)


solid = part_1.part
